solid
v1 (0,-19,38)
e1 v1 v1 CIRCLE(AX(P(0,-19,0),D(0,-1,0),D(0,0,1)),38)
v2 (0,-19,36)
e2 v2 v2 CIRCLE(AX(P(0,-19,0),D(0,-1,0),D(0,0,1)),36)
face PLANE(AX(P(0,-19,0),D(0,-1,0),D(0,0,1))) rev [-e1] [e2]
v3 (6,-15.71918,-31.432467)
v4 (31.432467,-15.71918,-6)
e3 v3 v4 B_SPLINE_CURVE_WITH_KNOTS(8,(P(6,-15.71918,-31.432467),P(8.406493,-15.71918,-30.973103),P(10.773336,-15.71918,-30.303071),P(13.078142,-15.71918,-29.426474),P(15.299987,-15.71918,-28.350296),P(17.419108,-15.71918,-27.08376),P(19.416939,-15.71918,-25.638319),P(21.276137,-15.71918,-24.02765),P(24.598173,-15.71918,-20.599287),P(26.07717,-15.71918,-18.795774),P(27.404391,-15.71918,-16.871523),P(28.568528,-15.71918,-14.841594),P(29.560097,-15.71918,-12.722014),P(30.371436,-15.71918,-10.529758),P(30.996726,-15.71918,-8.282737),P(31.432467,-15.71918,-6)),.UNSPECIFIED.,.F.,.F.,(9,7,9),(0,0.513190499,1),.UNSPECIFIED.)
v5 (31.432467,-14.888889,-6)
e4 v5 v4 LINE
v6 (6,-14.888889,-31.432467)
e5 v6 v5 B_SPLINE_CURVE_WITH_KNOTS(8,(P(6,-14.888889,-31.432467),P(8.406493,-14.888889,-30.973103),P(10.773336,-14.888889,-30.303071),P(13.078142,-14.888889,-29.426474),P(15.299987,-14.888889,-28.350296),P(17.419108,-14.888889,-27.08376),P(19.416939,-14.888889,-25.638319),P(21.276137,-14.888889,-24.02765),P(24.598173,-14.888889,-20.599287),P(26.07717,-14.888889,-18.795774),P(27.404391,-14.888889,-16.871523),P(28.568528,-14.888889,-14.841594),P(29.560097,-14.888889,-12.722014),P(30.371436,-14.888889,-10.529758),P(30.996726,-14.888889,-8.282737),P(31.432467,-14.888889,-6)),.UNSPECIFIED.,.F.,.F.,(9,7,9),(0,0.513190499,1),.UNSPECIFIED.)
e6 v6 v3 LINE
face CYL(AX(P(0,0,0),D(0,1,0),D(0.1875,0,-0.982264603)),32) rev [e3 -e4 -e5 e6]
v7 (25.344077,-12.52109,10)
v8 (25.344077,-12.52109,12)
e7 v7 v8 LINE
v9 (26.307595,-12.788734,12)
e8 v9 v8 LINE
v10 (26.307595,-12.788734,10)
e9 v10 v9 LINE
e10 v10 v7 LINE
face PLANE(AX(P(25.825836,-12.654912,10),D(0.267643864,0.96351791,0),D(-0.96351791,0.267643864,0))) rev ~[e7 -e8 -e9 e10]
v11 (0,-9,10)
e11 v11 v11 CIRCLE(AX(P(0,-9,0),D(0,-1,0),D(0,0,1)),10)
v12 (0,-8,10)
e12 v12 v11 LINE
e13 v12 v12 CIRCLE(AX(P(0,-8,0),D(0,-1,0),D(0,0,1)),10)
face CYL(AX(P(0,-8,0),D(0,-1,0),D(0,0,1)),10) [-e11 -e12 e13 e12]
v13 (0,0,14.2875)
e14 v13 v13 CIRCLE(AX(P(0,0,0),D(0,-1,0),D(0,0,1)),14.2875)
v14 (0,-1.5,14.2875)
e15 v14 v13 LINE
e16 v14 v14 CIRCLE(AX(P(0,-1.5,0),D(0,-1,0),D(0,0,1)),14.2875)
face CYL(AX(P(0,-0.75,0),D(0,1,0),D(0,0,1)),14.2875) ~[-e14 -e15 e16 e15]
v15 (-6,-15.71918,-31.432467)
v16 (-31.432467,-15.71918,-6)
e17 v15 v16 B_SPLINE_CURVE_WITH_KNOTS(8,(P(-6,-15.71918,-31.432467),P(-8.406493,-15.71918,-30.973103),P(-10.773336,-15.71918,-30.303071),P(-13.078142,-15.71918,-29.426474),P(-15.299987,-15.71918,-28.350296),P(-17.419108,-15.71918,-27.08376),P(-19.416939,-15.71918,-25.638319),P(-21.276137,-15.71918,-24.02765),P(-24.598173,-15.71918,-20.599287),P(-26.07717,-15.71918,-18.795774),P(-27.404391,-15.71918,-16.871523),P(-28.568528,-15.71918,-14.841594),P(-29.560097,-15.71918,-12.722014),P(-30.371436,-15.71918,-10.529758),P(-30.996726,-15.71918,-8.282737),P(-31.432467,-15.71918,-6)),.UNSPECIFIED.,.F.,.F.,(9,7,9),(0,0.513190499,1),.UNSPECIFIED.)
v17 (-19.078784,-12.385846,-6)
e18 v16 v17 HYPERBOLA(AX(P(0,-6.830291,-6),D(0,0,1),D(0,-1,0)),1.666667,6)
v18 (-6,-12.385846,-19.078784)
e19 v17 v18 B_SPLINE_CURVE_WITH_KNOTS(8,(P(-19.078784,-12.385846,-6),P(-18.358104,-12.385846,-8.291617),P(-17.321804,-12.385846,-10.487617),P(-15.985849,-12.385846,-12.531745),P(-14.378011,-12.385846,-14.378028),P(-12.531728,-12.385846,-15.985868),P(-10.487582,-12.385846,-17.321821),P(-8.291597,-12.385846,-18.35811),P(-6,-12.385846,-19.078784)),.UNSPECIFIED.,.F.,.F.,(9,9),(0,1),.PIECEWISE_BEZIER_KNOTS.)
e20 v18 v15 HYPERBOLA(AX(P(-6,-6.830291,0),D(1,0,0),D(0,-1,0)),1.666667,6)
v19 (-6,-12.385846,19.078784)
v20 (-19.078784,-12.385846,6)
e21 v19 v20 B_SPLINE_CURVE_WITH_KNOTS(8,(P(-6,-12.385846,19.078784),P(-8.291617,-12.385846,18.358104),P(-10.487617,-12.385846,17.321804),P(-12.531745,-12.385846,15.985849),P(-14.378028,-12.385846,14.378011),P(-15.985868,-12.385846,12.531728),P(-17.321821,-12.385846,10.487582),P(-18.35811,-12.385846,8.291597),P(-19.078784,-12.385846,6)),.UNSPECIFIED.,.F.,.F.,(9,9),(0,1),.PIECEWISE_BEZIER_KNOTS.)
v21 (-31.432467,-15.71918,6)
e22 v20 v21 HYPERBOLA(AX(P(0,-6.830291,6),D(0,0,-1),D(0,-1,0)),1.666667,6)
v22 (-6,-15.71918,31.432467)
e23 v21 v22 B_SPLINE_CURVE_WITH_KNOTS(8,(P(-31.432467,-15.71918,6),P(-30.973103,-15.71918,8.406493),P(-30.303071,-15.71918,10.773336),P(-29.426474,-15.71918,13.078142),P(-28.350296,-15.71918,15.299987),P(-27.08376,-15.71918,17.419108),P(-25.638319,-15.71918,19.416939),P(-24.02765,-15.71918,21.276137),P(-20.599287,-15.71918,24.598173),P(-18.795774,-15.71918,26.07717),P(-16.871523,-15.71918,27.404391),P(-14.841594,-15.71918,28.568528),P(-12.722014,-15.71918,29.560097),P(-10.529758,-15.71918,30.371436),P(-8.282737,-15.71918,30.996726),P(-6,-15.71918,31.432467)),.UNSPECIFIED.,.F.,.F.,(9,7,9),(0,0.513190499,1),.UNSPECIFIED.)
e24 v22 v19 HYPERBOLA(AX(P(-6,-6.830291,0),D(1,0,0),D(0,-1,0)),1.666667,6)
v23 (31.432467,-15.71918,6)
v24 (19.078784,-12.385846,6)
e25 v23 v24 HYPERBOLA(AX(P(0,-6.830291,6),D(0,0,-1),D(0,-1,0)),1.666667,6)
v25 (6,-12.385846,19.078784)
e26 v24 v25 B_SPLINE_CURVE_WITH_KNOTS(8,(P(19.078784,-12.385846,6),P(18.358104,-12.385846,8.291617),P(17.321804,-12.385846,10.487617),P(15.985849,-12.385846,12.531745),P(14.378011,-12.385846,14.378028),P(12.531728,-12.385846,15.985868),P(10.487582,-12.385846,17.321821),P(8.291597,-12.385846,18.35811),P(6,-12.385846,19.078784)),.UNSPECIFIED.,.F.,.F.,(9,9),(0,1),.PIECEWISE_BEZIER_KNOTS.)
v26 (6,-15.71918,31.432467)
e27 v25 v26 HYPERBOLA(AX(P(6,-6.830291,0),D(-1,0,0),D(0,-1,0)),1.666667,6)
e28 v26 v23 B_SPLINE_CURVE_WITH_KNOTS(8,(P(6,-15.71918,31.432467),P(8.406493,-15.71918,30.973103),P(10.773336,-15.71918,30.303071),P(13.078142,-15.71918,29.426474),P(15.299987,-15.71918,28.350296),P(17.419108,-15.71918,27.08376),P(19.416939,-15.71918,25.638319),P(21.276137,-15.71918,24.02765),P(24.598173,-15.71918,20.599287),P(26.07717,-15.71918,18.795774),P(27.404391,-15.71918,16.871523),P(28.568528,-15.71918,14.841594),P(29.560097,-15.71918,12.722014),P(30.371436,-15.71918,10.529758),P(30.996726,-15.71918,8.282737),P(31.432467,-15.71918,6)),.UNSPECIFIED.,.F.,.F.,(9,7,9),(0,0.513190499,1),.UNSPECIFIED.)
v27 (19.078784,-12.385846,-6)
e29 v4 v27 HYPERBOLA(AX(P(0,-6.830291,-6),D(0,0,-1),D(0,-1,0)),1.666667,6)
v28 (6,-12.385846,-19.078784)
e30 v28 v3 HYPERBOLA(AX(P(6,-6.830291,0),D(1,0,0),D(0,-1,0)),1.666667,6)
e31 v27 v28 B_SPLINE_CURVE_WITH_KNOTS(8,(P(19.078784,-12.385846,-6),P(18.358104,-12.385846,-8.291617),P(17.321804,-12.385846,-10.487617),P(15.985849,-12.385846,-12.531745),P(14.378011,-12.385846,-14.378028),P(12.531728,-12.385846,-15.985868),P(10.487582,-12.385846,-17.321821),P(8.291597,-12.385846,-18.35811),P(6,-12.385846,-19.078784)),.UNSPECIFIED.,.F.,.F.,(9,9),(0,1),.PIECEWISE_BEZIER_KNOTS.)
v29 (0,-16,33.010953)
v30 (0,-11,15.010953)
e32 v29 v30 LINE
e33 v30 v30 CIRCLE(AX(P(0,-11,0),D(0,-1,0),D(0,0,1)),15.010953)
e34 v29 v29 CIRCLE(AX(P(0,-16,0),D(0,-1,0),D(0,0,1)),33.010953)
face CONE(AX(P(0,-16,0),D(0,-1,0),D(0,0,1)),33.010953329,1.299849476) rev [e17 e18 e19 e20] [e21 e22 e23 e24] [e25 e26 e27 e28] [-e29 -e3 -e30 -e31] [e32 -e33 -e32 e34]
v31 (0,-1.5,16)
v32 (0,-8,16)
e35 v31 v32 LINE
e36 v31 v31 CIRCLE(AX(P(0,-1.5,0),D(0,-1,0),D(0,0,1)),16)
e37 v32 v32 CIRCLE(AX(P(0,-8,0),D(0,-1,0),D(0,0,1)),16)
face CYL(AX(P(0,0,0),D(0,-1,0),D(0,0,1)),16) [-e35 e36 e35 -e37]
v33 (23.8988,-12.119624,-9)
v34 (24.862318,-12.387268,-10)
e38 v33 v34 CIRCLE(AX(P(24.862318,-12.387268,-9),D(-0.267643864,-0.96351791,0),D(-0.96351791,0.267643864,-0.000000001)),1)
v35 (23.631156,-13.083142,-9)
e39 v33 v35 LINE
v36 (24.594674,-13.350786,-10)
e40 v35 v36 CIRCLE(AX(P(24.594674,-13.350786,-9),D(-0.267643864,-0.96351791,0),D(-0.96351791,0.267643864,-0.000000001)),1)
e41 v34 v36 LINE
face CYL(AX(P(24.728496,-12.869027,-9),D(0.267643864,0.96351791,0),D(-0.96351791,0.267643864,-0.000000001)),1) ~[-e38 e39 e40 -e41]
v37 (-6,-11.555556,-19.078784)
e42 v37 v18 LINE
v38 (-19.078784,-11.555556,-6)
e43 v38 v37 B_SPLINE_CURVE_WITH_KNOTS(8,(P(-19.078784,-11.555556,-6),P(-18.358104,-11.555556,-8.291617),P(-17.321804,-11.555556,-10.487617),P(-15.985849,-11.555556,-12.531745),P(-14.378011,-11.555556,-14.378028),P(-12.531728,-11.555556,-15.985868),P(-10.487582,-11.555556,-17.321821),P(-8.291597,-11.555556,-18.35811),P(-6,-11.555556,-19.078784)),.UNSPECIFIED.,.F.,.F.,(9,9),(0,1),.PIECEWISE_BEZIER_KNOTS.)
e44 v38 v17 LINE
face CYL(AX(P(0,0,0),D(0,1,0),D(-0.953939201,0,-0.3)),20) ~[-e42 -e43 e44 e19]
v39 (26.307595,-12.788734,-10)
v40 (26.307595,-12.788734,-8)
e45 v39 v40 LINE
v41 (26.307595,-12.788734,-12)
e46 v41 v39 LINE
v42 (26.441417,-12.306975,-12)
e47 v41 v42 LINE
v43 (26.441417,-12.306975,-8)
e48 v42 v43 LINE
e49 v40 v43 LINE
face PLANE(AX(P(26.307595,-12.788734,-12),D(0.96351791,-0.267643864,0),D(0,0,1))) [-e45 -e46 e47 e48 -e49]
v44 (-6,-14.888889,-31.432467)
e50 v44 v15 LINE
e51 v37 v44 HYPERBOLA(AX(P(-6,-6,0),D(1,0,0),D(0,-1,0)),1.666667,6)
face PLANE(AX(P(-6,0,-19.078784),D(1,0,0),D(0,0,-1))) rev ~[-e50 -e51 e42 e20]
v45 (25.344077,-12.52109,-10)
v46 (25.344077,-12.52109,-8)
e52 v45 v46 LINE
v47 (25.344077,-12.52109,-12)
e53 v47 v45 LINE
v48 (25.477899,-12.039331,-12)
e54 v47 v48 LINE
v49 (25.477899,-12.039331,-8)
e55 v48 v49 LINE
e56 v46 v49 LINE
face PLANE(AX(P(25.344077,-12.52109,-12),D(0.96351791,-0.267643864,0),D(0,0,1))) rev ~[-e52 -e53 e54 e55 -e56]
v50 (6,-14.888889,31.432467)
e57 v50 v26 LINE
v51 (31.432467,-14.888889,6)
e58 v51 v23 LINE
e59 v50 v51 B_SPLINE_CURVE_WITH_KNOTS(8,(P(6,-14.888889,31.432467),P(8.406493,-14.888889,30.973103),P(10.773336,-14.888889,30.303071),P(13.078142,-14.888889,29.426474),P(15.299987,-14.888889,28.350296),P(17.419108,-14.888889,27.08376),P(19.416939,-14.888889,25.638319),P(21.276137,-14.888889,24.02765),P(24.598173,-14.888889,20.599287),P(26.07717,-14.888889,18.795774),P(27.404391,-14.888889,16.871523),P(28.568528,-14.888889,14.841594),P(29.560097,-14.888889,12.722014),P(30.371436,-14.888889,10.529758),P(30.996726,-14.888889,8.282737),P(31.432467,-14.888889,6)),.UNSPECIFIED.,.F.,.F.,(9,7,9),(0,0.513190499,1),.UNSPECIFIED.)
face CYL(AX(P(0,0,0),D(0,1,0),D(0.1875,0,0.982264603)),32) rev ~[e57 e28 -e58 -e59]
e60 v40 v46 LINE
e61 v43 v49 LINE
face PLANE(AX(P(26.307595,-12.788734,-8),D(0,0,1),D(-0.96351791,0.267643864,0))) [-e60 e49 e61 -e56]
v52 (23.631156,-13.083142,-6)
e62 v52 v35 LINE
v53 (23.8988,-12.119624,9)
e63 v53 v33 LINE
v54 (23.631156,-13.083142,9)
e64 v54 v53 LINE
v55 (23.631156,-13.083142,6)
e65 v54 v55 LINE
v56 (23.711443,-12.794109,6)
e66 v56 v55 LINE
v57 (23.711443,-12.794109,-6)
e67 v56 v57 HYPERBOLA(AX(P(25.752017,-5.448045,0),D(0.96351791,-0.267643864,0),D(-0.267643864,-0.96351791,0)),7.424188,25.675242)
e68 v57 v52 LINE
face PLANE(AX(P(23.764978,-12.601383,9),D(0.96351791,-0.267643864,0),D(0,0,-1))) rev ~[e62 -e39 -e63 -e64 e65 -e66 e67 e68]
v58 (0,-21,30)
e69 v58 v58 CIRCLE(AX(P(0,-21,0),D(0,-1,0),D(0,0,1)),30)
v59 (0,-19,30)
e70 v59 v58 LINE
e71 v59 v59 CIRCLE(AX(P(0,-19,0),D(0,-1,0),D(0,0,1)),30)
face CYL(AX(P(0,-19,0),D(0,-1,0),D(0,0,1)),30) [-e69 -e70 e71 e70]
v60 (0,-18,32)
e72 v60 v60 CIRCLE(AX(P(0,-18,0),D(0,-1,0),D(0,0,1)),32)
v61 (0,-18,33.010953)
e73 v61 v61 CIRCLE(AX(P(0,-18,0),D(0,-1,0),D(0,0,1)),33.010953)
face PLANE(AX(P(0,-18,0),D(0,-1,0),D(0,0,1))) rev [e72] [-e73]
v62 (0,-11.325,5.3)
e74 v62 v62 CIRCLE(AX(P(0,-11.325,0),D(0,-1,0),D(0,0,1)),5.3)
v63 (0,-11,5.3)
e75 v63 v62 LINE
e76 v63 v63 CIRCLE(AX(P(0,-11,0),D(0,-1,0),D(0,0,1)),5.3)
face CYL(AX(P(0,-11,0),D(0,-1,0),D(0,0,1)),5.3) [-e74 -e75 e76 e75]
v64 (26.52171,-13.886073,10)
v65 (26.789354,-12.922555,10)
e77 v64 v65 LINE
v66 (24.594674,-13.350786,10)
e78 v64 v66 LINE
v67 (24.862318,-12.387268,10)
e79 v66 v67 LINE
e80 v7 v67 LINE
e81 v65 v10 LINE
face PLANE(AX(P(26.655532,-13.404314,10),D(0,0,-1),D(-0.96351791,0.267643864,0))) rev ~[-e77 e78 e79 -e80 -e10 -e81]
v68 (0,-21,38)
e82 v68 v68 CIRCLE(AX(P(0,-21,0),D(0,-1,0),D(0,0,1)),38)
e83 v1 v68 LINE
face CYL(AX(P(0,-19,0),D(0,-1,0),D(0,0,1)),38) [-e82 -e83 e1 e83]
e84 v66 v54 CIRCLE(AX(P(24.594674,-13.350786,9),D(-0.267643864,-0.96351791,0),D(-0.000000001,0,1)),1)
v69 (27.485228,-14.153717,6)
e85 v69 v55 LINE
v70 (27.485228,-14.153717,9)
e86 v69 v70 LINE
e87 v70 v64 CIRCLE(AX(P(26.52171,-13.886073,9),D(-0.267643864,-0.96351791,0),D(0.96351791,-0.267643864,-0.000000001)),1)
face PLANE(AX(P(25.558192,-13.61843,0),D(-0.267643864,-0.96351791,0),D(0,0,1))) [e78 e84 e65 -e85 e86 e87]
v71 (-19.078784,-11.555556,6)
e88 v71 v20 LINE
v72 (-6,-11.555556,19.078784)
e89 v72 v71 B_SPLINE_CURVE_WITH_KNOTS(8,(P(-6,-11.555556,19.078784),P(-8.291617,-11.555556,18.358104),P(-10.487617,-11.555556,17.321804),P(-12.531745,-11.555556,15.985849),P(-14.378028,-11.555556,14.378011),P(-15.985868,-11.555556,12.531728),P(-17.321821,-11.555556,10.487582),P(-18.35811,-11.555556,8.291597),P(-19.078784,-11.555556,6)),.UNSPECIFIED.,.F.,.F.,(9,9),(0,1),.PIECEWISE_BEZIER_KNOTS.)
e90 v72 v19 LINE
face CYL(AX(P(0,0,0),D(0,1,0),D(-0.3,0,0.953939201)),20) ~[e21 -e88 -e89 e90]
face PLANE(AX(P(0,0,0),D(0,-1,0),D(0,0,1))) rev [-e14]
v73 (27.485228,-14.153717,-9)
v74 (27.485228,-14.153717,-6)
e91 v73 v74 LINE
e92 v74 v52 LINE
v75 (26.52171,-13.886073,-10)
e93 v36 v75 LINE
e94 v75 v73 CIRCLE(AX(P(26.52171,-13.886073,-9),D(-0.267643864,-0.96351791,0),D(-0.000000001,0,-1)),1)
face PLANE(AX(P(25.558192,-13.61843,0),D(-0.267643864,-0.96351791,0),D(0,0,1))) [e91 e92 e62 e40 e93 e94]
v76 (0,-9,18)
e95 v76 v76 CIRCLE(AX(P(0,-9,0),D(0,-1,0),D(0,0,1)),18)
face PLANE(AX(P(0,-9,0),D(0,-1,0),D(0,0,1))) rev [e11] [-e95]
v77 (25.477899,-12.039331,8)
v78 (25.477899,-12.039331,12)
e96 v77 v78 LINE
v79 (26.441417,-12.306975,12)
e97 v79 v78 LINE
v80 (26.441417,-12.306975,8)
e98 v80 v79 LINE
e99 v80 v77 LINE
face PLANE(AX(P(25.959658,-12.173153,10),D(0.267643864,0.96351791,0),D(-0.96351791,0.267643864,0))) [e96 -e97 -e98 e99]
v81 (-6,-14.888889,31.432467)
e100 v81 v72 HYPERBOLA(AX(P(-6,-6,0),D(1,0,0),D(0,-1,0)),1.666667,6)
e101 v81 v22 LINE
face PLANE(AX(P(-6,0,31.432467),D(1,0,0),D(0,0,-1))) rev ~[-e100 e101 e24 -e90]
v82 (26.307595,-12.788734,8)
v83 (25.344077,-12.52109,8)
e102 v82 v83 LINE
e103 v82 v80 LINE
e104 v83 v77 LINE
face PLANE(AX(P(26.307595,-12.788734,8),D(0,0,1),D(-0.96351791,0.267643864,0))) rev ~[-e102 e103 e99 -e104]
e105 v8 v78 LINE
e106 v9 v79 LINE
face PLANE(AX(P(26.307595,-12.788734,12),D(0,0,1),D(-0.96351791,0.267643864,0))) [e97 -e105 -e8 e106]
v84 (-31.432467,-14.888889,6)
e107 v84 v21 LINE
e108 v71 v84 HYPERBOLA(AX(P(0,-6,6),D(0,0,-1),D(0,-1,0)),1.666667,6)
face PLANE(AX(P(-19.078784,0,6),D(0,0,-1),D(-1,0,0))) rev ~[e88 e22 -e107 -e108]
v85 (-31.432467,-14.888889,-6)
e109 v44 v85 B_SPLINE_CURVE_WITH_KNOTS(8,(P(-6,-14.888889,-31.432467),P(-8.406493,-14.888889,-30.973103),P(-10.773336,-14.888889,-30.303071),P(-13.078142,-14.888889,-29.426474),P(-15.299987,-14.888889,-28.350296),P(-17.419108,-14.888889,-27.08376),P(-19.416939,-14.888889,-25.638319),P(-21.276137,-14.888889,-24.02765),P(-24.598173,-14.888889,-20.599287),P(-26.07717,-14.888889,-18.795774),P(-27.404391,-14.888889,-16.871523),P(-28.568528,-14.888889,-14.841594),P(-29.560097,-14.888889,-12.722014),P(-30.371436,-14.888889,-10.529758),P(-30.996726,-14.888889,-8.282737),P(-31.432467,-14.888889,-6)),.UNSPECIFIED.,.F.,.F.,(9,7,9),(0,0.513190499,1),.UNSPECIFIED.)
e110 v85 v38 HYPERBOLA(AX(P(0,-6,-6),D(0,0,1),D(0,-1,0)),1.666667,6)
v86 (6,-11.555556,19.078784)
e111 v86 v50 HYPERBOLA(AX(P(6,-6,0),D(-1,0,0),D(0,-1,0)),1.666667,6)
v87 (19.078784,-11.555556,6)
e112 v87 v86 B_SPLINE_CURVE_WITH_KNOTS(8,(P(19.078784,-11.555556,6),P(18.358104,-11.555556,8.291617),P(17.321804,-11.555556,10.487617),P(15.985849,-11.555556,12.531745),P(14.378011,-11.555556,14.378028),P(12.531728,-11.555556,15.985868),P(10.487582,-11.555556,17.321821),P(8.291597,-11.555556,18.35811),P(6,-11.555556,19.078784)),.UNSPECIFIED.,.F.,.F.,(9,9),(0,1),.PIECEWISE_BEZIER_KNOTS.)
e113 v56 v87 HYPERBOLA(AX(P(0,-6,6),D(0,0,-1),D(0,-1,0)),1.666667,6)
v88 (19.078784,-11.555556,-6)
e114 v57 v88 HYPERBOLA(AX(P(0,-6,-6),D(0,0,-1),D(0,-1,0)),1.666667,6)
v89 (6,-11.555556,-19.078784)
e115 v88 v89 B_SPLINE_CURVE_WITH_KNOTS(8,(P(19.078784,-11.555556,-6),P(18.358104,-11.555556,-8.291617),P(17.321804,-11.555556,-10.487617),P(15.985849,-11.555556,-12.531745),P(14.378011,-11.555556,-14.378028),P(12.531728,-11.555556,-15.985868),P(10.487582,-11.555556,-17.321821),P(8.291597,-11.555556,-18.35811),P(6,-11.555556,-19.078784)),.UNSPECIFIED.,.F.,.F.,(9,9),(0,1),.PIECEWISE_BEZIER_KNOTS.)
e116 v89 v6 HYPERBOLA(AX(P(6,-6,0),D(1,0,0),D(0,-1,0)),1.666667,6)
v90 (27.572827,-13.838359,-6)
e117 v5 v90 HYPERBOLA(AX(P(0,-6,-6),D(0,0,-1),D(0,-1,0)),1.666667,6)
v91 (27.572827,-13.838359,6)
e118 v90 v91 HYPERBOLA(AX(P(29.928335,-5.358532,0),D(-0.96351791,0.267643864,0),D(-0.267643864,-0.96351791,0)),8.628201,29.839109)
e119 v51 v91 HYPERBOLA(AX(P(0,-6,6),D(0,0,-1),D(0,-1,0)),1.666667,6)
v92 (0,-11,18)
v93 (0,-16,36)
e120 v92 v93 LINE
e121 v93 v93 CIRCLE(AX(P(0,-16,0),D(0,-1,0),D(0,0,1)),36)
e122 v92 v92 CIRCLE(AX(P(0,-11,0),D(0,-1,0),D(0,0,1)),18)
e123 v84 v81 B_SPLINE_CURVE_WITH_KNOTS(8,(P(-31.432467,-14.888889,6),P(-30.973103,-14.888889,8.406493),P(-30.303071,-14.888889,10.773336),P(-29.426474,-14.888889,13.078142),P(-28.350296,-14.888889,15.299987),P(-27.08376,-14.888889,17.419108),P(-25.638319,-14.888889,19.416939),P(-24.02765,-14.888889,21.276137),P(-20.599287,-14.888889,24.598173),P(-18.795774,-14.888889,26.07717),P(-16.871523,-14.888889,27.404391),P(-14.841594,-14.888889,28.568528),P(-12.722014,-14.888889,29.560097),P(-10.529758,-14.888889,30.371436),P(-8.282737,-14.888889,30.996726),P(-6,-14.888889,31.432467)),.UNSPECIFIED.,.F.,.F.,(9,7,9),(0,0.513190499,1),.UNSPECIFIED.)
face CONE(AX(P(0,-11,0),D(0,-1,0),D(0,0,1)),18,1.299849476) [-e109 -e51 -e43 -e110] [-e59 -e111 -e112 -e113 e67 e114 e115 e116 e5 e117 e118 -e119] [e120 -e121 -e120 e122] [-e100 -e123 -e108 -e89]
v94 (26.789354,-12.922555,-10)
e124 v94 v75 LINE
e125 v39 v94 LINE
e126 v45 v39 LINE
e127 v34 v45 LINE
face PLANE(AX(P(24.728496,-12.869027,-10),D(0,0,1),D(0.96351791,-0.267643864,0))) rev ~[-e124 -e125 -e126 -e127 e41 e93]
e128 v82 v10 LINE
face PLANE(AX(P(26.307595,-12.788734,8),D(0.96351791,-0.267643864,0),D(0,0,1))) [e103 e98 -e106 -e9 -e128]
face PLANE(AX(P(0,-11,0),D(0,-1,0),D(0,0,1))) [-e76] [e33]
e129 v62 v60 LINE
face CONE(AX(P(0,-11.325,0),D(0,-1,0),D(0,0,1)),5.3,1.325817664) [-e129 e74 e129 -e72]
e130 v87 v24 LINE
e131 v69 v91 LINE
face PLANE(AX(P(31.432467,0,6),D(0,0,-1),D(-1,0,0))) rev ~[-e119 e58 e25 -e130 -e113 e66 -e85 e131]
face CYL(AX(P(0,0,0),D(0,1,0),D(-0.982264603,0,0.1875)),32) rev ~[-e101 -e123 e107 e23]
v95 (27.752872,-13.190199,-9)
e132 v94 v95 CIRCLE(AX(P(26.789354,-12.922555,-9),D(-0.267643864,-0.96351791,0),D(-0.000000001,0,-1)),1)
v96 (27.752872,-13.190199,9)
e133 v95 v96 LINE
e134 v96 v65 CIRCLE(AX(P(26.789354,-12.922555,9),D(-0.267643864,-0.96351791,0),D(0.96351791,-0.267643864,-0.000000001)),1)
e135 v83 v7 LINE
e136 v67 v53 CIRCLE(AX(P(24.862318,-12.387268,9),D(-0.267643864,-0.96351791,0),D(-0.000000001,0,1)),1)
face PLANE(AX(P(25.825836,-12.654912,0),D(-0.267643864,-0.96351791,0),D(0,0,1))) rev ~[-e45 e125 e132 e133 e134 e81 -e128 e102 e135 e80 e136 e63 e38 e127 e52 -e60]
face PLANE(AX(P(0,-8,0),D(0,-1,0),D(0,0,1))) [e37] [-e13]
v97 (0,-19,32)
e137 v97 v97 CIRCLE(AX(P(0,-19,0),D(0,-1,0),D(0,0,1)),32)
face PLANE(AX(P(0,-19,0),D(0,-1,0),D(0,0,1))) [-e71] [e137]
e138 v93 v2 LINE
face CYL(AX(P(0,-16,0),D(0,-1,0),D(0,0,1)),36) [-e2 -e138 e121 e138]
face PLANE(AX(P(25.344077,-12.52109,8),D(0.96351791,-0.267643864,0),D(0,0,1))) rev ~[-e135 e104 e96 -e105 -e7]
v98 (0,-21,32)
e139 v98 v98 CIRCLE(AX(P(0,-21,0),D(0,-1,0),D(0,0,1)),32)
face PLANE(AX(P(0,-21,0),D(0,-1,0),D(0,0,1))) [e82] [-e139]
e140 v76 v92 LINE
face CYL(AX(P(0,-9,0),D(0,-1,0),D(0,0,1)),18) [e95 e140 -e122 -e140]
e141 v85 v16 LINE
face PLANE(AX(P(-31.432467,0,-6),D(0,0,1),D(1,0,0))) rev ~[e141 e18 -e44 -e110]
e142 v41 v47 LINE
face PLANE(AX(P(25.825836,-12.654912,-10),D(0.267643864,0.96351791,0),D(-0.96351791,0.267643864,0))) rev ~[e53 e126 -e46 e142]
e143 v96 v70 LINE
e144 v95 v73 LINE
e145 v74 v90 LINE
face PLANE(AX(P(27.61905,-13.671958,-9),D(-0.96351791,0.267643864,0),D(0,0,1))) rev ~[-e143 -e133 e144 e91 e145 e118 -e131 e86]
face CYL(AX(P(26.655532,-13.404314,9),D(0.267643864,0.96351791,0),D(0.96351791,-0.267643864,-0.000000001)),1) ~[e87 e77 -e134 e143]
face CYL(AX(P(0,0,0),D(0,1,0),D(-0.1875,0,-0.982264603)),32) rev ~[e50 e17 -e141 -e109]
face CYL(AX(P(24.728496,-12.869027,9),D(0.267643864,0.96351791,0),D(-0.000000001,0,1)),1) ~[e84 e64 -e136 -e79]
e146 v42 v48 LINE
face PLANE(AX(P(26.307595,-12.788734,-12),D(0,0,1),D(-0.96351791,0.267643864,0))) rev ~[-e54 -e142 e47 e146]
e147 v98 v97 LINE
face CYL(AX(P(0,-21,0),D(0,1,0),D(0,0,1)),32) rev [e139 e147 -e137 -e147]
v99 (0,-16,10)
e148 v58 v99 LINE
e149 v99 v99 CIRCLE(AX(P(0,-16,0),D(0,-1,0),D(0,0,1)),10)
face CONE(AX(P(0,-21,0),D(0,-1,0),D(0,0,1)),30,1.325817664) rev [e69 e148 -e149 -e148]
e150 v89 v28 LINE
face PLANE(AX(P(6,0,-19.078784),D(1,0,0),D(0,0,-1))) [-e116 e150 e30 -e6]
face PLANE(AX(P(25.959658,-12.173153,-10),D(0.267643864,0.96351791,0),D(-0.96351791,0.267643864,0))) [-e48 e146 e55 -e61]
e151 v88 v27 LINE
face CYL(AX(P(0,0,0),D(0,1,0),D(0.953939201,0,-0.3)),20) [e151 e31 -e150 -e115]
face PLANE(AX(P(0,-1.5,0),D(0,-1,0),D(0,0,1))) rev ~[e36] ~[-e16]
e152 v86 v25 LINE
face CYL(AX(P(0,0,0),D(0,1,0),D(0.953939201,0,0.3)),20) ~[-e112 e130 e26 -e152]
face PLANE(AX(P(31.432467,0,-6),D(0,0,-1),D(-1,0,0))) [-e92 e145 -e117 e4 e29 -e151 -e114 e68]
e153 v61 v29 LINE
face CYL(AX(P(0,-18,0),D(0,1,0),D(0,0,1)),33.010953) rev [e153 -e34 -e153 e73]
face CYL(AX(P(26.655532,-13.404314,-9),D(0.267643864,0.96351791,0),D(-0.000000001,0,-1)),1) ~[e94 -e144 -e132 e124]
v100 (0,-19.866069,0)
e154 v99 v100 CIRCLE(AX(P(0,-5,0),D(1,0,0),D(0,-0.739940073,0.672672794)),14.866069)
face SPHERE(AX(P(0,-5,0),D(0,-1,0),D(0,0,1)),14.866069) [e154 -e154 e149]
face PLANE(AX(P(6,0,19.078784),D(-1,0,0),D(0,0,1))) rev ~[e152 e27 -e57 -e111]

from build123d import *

# Parameters (mm, degrees)
ESQUISSE2_W             = 1.7125
ESQUISSE2_H             = 1.5
ENL_V_MAT_EXTRU_2_REACH = 59.697
BOSS_EXTRU_2_DEPTH      = 0.5
ESQUISSE5_W             = 1
ESQUISSE5_H             = 4
BOSS_EXTRU_3_DEPTH      = 0.5


with BuildPart() as part:
    # Esquisse1 → Base-Révolution (revolve)
    with BuildSketch(Plane.XY, mode=Mode.PRIVATE) as base_r_volution_sk:
        with BuildLine():
            Line((0, 0), (-16, 0))
            Line((-16, 0), (-16, -8))
            Line((-16, -8), (-10, -8))
            Line((-10, -8), (-10, -9))
            Line((-10, -9), (-18, -9))
            Line((-18, -9), (-18, -11))
            Line((-18, -11), (-36, -16))
            Line((-36, -16), (-36, -19))
            Line((-36, -19), (-38, -19))
            Line((-38, -19), (-38, -21))
            Line((-38, -21), (-32, -21))
            Line((-32, -21), (-32, -19))
            Line((-32, -19), (-30, -19))
            Line((-30, -19), (-30, -21))
            Line((-30, -21), (-10, -16))
            ThreePointArc((-10, -16), (-5.360654987, -18.865907042), (0, -19.866068747))
            Line((0, -19.866068747), (0, 0))
        make_face()
    revolve(base_r_volution_sk.sketch.rotate(Axis((0, 70, 0), (0, -1, 0)), 270), axis=Axis((0, 70, 0), (0, -1, 0)))

    # Esquisse2 → Enlèvement de matière-Révolution1 (revolve, cut)
    with BuildSketch(Plane.XY, mode=Mode.PRIVATE) as enl_vement_de_mati_re_r_volution1_sk:
        Polygon((-33.010953329, -16), (-15.010953329, -11), (-5.3, -11), (-5.3, -11.325), (-32, -18), (-33.010953329, -18), align=None)
        with Locations((-15.14375, -0.75)):
            Rectangle(ESQUISSE2_W, ESQUISSE2_H)
    revolve(enl_vement_de_mati_re_r_volution1_sk.sketch.rotate(Axis((0, 0, 0), (0, -1, 0)), 270), axis=Axis((0, 0, 0), (0, -1, 0)), mode=Mode.SUBTRACT)

    # Esquisse3 → Enlèv. mat.-Extru.2 (cut, up to next)
    with BuildSketch(Plane(origin=(0, 0, 0), x_dir=(1, 0, 0), z_dir=(0, 1, 0)), mode=Mode.PRIVATE) as enl_v_mat_extru_2_sk1:
        with BuildLine():
            Line((6, 19.078784028), (6, 31.432467291))
            ThreePointArc((6, 31.432467291), (22.627416998, 22.627416998), (31.432467291, 6))
            Line((31.432467291, 6), (19.078784028, 6))
            ThreePointArc((19.078784028, 6), (14.142135624, 14.142135624), (6, 19.078784028))
        make_face()
    enl_v_mat_extru_2_tool1 = extrude(enl_v_mat_extru_2_sk1.sketch, amount=-ENL_V_MAT_EXTRU_2_REACH, mode=Mode.PRIVATE) & part.part
    # Esquisse3 → Enlèv. mat.-Extru.2 (cut, up to next)
    with BuildSketch(Plane(origin=(0, 0, 0), x_dir=(1, 0, 0), z_dir=(0, 1, 0)), mode=Mode.PRIVATE) as enl_v_mat_extru_2_sk2:
        with BuildLine():
            Line((-6, 19.078784028), (-6, 31.432467291))
            ThreePointArc((-6, 31.432467291), (-22.627416998, 22.627416998), (-31.432467291, 6))
            Line((-31.432467291, 6), (-19.078784028, 6))
            ThreePointArc((-19.078784028, 6), (-14.142135624, 14.142135624), (-6, 19.078784028))
        make_face()
    enl_v_mat_extru_2_tool2 = extrude(enl_v_mat_extru_2_sk2.sketch, amount=-ENL_V_MAT_EXTRU_2_REACH, mode=Mode.PRIVATE) & part.part
    # Esquisse3 → Enlèv. mat.-Extru.2 (cut, up to next)
    with BuildSketch(Plane(origin=(0, 0, 0), x_dir=(1, 0, 0), z_dir=(0, 1, 0)), mode=Mode.PRIVATE) as enl_v_mat_extru_2_sk3:
        with BuildLine():
            Line((-19.078784028, -6), (-31.432467291, -6))
            ThreePointArc((-31.432467291, -6), (-22.627416998, -22.627416998), (-6, -31.432467291))
            Line((-6, -31.432467291), (-6, -19.078784028))
            ThreePointArc((-6, -19.078784028), (-14.142135624, -14.142135624), (-19.078784028, -6))
        make_face()
    enl_v_mat_extru_2_tool3 = extrude(enl_v_mat_extru_2_sk3.sketch, amount=-ENL_V_MAT_EXTRU_2_REACH, mode=Mode.PRIVATE) & part.part
    # Esquisse3 → Enlèv. mat.-Extru.2 (cut, up to next)
    with BuildSketch(Plane(origin=(0, 0, 0), x_dir=(1, 0, 0), z_dir=(0, 1, 0)), mode=Mode.PRIVATE) as enl_v_mat_extru_2_sk4:
        with BuildLine():
            Line((6, -19.078784028), (6, -31.432467291))
            ThreePointArc((6, -31.432467291), (22.627416998, -22.627416998), (31.432467291, -6))
            Line((31.432467291, -6), (19.078784028, -6))
            ThreePointArc((19.078784028, -6), (14.142135624, -14.142135624), (6, -19.078784028))
        make_face()
    enl_v_mat_extru_2_tool4 = extrude(enl_v_mat_extru_2_sk4.sketch, amount=-ENL_V_MAT_EXTRU_2_REACH, mode=Mode.PRIVATE) & part.part
    add(enl_v_mat_extru_2_tool1.solids().sort_by_distance((17.884719, 0, -17.884719))[0], mode=Mode.SUBTRACT)
    add(enl_v_mat_extru_2_tool2.solids().sort_by_distance((-17.884719, 0, -17.884719))[0], mode=Mode.SUBTRACT)
    add(enl_v_mat_extru_2_tool3.solids().sort_by_distance((-17.884719, 0, 17.884719))[0], mode=Mode.SUBTRACT)
    add(enl_v_mat_extru_2_tool4.solids().sort_by_distance((17.884719, 0, 17.884719))[0], mode=Mode.SUBTRACT)

    # Esquisse4 → Boss.-Extru.2 (add, symmetric)
    with BuildSketch(Plane(origin=(27, -13.5, 0), x_dir=(0, 0, -1), z_dir=(0.26764386378609417, 0.9635179096299408, 0))):
        with BuildLine():
            Line((-9, 3.357510793), (9, 3.357510793))
            ThreePointArc((9, 3.357510793), (9.707106781, 3.064617574), (10, 2.357510793))
            Line((10, 2.357510793), (10, 0.357510793))
            ThreePointArc((10, 0.357510793), (9.707106781, -0.349595989), (9, -0.642489207))
            Line((9, -0.642489207), (-9, -0.642489207))
            ThreePointArc((-9, -0.642489207), (-9.707106781, -0.349595989), (-10, 0.357510793))
            Line((-10, 0.357510793), (-10, 2.357510793))
            ThreePointArc((-10, 2.357510793), (-9.707106781, 3.064617574), (-9, 3.357510793))
        make_face()
    extrude(amount=BOSS_EXTRU_2_DEPTH, both=True)

    # Esquisse5 → Boss.-Extru.3 (add)
    with BuildSketch(Plane(origin=(-1.413456005, -5.088441618, 0), x_dir=(-0.9635179096299408, 0.26764386378609417, 0), z_dir=(0.26764386378609417, 0.9635179096299408, 0))):
        with Locations((-28.270664928, 10)):
            Rectangle(ESQUISSE5_W, ESQUISSE5_H)
        with Locations((-28.270664928, -10)):
            Rectangle(ESQUISSE5_W, ESQUISSE5_H)
    extrude(amount=BOSS_EXTRU_3_DEPTH)


solid = part.part
